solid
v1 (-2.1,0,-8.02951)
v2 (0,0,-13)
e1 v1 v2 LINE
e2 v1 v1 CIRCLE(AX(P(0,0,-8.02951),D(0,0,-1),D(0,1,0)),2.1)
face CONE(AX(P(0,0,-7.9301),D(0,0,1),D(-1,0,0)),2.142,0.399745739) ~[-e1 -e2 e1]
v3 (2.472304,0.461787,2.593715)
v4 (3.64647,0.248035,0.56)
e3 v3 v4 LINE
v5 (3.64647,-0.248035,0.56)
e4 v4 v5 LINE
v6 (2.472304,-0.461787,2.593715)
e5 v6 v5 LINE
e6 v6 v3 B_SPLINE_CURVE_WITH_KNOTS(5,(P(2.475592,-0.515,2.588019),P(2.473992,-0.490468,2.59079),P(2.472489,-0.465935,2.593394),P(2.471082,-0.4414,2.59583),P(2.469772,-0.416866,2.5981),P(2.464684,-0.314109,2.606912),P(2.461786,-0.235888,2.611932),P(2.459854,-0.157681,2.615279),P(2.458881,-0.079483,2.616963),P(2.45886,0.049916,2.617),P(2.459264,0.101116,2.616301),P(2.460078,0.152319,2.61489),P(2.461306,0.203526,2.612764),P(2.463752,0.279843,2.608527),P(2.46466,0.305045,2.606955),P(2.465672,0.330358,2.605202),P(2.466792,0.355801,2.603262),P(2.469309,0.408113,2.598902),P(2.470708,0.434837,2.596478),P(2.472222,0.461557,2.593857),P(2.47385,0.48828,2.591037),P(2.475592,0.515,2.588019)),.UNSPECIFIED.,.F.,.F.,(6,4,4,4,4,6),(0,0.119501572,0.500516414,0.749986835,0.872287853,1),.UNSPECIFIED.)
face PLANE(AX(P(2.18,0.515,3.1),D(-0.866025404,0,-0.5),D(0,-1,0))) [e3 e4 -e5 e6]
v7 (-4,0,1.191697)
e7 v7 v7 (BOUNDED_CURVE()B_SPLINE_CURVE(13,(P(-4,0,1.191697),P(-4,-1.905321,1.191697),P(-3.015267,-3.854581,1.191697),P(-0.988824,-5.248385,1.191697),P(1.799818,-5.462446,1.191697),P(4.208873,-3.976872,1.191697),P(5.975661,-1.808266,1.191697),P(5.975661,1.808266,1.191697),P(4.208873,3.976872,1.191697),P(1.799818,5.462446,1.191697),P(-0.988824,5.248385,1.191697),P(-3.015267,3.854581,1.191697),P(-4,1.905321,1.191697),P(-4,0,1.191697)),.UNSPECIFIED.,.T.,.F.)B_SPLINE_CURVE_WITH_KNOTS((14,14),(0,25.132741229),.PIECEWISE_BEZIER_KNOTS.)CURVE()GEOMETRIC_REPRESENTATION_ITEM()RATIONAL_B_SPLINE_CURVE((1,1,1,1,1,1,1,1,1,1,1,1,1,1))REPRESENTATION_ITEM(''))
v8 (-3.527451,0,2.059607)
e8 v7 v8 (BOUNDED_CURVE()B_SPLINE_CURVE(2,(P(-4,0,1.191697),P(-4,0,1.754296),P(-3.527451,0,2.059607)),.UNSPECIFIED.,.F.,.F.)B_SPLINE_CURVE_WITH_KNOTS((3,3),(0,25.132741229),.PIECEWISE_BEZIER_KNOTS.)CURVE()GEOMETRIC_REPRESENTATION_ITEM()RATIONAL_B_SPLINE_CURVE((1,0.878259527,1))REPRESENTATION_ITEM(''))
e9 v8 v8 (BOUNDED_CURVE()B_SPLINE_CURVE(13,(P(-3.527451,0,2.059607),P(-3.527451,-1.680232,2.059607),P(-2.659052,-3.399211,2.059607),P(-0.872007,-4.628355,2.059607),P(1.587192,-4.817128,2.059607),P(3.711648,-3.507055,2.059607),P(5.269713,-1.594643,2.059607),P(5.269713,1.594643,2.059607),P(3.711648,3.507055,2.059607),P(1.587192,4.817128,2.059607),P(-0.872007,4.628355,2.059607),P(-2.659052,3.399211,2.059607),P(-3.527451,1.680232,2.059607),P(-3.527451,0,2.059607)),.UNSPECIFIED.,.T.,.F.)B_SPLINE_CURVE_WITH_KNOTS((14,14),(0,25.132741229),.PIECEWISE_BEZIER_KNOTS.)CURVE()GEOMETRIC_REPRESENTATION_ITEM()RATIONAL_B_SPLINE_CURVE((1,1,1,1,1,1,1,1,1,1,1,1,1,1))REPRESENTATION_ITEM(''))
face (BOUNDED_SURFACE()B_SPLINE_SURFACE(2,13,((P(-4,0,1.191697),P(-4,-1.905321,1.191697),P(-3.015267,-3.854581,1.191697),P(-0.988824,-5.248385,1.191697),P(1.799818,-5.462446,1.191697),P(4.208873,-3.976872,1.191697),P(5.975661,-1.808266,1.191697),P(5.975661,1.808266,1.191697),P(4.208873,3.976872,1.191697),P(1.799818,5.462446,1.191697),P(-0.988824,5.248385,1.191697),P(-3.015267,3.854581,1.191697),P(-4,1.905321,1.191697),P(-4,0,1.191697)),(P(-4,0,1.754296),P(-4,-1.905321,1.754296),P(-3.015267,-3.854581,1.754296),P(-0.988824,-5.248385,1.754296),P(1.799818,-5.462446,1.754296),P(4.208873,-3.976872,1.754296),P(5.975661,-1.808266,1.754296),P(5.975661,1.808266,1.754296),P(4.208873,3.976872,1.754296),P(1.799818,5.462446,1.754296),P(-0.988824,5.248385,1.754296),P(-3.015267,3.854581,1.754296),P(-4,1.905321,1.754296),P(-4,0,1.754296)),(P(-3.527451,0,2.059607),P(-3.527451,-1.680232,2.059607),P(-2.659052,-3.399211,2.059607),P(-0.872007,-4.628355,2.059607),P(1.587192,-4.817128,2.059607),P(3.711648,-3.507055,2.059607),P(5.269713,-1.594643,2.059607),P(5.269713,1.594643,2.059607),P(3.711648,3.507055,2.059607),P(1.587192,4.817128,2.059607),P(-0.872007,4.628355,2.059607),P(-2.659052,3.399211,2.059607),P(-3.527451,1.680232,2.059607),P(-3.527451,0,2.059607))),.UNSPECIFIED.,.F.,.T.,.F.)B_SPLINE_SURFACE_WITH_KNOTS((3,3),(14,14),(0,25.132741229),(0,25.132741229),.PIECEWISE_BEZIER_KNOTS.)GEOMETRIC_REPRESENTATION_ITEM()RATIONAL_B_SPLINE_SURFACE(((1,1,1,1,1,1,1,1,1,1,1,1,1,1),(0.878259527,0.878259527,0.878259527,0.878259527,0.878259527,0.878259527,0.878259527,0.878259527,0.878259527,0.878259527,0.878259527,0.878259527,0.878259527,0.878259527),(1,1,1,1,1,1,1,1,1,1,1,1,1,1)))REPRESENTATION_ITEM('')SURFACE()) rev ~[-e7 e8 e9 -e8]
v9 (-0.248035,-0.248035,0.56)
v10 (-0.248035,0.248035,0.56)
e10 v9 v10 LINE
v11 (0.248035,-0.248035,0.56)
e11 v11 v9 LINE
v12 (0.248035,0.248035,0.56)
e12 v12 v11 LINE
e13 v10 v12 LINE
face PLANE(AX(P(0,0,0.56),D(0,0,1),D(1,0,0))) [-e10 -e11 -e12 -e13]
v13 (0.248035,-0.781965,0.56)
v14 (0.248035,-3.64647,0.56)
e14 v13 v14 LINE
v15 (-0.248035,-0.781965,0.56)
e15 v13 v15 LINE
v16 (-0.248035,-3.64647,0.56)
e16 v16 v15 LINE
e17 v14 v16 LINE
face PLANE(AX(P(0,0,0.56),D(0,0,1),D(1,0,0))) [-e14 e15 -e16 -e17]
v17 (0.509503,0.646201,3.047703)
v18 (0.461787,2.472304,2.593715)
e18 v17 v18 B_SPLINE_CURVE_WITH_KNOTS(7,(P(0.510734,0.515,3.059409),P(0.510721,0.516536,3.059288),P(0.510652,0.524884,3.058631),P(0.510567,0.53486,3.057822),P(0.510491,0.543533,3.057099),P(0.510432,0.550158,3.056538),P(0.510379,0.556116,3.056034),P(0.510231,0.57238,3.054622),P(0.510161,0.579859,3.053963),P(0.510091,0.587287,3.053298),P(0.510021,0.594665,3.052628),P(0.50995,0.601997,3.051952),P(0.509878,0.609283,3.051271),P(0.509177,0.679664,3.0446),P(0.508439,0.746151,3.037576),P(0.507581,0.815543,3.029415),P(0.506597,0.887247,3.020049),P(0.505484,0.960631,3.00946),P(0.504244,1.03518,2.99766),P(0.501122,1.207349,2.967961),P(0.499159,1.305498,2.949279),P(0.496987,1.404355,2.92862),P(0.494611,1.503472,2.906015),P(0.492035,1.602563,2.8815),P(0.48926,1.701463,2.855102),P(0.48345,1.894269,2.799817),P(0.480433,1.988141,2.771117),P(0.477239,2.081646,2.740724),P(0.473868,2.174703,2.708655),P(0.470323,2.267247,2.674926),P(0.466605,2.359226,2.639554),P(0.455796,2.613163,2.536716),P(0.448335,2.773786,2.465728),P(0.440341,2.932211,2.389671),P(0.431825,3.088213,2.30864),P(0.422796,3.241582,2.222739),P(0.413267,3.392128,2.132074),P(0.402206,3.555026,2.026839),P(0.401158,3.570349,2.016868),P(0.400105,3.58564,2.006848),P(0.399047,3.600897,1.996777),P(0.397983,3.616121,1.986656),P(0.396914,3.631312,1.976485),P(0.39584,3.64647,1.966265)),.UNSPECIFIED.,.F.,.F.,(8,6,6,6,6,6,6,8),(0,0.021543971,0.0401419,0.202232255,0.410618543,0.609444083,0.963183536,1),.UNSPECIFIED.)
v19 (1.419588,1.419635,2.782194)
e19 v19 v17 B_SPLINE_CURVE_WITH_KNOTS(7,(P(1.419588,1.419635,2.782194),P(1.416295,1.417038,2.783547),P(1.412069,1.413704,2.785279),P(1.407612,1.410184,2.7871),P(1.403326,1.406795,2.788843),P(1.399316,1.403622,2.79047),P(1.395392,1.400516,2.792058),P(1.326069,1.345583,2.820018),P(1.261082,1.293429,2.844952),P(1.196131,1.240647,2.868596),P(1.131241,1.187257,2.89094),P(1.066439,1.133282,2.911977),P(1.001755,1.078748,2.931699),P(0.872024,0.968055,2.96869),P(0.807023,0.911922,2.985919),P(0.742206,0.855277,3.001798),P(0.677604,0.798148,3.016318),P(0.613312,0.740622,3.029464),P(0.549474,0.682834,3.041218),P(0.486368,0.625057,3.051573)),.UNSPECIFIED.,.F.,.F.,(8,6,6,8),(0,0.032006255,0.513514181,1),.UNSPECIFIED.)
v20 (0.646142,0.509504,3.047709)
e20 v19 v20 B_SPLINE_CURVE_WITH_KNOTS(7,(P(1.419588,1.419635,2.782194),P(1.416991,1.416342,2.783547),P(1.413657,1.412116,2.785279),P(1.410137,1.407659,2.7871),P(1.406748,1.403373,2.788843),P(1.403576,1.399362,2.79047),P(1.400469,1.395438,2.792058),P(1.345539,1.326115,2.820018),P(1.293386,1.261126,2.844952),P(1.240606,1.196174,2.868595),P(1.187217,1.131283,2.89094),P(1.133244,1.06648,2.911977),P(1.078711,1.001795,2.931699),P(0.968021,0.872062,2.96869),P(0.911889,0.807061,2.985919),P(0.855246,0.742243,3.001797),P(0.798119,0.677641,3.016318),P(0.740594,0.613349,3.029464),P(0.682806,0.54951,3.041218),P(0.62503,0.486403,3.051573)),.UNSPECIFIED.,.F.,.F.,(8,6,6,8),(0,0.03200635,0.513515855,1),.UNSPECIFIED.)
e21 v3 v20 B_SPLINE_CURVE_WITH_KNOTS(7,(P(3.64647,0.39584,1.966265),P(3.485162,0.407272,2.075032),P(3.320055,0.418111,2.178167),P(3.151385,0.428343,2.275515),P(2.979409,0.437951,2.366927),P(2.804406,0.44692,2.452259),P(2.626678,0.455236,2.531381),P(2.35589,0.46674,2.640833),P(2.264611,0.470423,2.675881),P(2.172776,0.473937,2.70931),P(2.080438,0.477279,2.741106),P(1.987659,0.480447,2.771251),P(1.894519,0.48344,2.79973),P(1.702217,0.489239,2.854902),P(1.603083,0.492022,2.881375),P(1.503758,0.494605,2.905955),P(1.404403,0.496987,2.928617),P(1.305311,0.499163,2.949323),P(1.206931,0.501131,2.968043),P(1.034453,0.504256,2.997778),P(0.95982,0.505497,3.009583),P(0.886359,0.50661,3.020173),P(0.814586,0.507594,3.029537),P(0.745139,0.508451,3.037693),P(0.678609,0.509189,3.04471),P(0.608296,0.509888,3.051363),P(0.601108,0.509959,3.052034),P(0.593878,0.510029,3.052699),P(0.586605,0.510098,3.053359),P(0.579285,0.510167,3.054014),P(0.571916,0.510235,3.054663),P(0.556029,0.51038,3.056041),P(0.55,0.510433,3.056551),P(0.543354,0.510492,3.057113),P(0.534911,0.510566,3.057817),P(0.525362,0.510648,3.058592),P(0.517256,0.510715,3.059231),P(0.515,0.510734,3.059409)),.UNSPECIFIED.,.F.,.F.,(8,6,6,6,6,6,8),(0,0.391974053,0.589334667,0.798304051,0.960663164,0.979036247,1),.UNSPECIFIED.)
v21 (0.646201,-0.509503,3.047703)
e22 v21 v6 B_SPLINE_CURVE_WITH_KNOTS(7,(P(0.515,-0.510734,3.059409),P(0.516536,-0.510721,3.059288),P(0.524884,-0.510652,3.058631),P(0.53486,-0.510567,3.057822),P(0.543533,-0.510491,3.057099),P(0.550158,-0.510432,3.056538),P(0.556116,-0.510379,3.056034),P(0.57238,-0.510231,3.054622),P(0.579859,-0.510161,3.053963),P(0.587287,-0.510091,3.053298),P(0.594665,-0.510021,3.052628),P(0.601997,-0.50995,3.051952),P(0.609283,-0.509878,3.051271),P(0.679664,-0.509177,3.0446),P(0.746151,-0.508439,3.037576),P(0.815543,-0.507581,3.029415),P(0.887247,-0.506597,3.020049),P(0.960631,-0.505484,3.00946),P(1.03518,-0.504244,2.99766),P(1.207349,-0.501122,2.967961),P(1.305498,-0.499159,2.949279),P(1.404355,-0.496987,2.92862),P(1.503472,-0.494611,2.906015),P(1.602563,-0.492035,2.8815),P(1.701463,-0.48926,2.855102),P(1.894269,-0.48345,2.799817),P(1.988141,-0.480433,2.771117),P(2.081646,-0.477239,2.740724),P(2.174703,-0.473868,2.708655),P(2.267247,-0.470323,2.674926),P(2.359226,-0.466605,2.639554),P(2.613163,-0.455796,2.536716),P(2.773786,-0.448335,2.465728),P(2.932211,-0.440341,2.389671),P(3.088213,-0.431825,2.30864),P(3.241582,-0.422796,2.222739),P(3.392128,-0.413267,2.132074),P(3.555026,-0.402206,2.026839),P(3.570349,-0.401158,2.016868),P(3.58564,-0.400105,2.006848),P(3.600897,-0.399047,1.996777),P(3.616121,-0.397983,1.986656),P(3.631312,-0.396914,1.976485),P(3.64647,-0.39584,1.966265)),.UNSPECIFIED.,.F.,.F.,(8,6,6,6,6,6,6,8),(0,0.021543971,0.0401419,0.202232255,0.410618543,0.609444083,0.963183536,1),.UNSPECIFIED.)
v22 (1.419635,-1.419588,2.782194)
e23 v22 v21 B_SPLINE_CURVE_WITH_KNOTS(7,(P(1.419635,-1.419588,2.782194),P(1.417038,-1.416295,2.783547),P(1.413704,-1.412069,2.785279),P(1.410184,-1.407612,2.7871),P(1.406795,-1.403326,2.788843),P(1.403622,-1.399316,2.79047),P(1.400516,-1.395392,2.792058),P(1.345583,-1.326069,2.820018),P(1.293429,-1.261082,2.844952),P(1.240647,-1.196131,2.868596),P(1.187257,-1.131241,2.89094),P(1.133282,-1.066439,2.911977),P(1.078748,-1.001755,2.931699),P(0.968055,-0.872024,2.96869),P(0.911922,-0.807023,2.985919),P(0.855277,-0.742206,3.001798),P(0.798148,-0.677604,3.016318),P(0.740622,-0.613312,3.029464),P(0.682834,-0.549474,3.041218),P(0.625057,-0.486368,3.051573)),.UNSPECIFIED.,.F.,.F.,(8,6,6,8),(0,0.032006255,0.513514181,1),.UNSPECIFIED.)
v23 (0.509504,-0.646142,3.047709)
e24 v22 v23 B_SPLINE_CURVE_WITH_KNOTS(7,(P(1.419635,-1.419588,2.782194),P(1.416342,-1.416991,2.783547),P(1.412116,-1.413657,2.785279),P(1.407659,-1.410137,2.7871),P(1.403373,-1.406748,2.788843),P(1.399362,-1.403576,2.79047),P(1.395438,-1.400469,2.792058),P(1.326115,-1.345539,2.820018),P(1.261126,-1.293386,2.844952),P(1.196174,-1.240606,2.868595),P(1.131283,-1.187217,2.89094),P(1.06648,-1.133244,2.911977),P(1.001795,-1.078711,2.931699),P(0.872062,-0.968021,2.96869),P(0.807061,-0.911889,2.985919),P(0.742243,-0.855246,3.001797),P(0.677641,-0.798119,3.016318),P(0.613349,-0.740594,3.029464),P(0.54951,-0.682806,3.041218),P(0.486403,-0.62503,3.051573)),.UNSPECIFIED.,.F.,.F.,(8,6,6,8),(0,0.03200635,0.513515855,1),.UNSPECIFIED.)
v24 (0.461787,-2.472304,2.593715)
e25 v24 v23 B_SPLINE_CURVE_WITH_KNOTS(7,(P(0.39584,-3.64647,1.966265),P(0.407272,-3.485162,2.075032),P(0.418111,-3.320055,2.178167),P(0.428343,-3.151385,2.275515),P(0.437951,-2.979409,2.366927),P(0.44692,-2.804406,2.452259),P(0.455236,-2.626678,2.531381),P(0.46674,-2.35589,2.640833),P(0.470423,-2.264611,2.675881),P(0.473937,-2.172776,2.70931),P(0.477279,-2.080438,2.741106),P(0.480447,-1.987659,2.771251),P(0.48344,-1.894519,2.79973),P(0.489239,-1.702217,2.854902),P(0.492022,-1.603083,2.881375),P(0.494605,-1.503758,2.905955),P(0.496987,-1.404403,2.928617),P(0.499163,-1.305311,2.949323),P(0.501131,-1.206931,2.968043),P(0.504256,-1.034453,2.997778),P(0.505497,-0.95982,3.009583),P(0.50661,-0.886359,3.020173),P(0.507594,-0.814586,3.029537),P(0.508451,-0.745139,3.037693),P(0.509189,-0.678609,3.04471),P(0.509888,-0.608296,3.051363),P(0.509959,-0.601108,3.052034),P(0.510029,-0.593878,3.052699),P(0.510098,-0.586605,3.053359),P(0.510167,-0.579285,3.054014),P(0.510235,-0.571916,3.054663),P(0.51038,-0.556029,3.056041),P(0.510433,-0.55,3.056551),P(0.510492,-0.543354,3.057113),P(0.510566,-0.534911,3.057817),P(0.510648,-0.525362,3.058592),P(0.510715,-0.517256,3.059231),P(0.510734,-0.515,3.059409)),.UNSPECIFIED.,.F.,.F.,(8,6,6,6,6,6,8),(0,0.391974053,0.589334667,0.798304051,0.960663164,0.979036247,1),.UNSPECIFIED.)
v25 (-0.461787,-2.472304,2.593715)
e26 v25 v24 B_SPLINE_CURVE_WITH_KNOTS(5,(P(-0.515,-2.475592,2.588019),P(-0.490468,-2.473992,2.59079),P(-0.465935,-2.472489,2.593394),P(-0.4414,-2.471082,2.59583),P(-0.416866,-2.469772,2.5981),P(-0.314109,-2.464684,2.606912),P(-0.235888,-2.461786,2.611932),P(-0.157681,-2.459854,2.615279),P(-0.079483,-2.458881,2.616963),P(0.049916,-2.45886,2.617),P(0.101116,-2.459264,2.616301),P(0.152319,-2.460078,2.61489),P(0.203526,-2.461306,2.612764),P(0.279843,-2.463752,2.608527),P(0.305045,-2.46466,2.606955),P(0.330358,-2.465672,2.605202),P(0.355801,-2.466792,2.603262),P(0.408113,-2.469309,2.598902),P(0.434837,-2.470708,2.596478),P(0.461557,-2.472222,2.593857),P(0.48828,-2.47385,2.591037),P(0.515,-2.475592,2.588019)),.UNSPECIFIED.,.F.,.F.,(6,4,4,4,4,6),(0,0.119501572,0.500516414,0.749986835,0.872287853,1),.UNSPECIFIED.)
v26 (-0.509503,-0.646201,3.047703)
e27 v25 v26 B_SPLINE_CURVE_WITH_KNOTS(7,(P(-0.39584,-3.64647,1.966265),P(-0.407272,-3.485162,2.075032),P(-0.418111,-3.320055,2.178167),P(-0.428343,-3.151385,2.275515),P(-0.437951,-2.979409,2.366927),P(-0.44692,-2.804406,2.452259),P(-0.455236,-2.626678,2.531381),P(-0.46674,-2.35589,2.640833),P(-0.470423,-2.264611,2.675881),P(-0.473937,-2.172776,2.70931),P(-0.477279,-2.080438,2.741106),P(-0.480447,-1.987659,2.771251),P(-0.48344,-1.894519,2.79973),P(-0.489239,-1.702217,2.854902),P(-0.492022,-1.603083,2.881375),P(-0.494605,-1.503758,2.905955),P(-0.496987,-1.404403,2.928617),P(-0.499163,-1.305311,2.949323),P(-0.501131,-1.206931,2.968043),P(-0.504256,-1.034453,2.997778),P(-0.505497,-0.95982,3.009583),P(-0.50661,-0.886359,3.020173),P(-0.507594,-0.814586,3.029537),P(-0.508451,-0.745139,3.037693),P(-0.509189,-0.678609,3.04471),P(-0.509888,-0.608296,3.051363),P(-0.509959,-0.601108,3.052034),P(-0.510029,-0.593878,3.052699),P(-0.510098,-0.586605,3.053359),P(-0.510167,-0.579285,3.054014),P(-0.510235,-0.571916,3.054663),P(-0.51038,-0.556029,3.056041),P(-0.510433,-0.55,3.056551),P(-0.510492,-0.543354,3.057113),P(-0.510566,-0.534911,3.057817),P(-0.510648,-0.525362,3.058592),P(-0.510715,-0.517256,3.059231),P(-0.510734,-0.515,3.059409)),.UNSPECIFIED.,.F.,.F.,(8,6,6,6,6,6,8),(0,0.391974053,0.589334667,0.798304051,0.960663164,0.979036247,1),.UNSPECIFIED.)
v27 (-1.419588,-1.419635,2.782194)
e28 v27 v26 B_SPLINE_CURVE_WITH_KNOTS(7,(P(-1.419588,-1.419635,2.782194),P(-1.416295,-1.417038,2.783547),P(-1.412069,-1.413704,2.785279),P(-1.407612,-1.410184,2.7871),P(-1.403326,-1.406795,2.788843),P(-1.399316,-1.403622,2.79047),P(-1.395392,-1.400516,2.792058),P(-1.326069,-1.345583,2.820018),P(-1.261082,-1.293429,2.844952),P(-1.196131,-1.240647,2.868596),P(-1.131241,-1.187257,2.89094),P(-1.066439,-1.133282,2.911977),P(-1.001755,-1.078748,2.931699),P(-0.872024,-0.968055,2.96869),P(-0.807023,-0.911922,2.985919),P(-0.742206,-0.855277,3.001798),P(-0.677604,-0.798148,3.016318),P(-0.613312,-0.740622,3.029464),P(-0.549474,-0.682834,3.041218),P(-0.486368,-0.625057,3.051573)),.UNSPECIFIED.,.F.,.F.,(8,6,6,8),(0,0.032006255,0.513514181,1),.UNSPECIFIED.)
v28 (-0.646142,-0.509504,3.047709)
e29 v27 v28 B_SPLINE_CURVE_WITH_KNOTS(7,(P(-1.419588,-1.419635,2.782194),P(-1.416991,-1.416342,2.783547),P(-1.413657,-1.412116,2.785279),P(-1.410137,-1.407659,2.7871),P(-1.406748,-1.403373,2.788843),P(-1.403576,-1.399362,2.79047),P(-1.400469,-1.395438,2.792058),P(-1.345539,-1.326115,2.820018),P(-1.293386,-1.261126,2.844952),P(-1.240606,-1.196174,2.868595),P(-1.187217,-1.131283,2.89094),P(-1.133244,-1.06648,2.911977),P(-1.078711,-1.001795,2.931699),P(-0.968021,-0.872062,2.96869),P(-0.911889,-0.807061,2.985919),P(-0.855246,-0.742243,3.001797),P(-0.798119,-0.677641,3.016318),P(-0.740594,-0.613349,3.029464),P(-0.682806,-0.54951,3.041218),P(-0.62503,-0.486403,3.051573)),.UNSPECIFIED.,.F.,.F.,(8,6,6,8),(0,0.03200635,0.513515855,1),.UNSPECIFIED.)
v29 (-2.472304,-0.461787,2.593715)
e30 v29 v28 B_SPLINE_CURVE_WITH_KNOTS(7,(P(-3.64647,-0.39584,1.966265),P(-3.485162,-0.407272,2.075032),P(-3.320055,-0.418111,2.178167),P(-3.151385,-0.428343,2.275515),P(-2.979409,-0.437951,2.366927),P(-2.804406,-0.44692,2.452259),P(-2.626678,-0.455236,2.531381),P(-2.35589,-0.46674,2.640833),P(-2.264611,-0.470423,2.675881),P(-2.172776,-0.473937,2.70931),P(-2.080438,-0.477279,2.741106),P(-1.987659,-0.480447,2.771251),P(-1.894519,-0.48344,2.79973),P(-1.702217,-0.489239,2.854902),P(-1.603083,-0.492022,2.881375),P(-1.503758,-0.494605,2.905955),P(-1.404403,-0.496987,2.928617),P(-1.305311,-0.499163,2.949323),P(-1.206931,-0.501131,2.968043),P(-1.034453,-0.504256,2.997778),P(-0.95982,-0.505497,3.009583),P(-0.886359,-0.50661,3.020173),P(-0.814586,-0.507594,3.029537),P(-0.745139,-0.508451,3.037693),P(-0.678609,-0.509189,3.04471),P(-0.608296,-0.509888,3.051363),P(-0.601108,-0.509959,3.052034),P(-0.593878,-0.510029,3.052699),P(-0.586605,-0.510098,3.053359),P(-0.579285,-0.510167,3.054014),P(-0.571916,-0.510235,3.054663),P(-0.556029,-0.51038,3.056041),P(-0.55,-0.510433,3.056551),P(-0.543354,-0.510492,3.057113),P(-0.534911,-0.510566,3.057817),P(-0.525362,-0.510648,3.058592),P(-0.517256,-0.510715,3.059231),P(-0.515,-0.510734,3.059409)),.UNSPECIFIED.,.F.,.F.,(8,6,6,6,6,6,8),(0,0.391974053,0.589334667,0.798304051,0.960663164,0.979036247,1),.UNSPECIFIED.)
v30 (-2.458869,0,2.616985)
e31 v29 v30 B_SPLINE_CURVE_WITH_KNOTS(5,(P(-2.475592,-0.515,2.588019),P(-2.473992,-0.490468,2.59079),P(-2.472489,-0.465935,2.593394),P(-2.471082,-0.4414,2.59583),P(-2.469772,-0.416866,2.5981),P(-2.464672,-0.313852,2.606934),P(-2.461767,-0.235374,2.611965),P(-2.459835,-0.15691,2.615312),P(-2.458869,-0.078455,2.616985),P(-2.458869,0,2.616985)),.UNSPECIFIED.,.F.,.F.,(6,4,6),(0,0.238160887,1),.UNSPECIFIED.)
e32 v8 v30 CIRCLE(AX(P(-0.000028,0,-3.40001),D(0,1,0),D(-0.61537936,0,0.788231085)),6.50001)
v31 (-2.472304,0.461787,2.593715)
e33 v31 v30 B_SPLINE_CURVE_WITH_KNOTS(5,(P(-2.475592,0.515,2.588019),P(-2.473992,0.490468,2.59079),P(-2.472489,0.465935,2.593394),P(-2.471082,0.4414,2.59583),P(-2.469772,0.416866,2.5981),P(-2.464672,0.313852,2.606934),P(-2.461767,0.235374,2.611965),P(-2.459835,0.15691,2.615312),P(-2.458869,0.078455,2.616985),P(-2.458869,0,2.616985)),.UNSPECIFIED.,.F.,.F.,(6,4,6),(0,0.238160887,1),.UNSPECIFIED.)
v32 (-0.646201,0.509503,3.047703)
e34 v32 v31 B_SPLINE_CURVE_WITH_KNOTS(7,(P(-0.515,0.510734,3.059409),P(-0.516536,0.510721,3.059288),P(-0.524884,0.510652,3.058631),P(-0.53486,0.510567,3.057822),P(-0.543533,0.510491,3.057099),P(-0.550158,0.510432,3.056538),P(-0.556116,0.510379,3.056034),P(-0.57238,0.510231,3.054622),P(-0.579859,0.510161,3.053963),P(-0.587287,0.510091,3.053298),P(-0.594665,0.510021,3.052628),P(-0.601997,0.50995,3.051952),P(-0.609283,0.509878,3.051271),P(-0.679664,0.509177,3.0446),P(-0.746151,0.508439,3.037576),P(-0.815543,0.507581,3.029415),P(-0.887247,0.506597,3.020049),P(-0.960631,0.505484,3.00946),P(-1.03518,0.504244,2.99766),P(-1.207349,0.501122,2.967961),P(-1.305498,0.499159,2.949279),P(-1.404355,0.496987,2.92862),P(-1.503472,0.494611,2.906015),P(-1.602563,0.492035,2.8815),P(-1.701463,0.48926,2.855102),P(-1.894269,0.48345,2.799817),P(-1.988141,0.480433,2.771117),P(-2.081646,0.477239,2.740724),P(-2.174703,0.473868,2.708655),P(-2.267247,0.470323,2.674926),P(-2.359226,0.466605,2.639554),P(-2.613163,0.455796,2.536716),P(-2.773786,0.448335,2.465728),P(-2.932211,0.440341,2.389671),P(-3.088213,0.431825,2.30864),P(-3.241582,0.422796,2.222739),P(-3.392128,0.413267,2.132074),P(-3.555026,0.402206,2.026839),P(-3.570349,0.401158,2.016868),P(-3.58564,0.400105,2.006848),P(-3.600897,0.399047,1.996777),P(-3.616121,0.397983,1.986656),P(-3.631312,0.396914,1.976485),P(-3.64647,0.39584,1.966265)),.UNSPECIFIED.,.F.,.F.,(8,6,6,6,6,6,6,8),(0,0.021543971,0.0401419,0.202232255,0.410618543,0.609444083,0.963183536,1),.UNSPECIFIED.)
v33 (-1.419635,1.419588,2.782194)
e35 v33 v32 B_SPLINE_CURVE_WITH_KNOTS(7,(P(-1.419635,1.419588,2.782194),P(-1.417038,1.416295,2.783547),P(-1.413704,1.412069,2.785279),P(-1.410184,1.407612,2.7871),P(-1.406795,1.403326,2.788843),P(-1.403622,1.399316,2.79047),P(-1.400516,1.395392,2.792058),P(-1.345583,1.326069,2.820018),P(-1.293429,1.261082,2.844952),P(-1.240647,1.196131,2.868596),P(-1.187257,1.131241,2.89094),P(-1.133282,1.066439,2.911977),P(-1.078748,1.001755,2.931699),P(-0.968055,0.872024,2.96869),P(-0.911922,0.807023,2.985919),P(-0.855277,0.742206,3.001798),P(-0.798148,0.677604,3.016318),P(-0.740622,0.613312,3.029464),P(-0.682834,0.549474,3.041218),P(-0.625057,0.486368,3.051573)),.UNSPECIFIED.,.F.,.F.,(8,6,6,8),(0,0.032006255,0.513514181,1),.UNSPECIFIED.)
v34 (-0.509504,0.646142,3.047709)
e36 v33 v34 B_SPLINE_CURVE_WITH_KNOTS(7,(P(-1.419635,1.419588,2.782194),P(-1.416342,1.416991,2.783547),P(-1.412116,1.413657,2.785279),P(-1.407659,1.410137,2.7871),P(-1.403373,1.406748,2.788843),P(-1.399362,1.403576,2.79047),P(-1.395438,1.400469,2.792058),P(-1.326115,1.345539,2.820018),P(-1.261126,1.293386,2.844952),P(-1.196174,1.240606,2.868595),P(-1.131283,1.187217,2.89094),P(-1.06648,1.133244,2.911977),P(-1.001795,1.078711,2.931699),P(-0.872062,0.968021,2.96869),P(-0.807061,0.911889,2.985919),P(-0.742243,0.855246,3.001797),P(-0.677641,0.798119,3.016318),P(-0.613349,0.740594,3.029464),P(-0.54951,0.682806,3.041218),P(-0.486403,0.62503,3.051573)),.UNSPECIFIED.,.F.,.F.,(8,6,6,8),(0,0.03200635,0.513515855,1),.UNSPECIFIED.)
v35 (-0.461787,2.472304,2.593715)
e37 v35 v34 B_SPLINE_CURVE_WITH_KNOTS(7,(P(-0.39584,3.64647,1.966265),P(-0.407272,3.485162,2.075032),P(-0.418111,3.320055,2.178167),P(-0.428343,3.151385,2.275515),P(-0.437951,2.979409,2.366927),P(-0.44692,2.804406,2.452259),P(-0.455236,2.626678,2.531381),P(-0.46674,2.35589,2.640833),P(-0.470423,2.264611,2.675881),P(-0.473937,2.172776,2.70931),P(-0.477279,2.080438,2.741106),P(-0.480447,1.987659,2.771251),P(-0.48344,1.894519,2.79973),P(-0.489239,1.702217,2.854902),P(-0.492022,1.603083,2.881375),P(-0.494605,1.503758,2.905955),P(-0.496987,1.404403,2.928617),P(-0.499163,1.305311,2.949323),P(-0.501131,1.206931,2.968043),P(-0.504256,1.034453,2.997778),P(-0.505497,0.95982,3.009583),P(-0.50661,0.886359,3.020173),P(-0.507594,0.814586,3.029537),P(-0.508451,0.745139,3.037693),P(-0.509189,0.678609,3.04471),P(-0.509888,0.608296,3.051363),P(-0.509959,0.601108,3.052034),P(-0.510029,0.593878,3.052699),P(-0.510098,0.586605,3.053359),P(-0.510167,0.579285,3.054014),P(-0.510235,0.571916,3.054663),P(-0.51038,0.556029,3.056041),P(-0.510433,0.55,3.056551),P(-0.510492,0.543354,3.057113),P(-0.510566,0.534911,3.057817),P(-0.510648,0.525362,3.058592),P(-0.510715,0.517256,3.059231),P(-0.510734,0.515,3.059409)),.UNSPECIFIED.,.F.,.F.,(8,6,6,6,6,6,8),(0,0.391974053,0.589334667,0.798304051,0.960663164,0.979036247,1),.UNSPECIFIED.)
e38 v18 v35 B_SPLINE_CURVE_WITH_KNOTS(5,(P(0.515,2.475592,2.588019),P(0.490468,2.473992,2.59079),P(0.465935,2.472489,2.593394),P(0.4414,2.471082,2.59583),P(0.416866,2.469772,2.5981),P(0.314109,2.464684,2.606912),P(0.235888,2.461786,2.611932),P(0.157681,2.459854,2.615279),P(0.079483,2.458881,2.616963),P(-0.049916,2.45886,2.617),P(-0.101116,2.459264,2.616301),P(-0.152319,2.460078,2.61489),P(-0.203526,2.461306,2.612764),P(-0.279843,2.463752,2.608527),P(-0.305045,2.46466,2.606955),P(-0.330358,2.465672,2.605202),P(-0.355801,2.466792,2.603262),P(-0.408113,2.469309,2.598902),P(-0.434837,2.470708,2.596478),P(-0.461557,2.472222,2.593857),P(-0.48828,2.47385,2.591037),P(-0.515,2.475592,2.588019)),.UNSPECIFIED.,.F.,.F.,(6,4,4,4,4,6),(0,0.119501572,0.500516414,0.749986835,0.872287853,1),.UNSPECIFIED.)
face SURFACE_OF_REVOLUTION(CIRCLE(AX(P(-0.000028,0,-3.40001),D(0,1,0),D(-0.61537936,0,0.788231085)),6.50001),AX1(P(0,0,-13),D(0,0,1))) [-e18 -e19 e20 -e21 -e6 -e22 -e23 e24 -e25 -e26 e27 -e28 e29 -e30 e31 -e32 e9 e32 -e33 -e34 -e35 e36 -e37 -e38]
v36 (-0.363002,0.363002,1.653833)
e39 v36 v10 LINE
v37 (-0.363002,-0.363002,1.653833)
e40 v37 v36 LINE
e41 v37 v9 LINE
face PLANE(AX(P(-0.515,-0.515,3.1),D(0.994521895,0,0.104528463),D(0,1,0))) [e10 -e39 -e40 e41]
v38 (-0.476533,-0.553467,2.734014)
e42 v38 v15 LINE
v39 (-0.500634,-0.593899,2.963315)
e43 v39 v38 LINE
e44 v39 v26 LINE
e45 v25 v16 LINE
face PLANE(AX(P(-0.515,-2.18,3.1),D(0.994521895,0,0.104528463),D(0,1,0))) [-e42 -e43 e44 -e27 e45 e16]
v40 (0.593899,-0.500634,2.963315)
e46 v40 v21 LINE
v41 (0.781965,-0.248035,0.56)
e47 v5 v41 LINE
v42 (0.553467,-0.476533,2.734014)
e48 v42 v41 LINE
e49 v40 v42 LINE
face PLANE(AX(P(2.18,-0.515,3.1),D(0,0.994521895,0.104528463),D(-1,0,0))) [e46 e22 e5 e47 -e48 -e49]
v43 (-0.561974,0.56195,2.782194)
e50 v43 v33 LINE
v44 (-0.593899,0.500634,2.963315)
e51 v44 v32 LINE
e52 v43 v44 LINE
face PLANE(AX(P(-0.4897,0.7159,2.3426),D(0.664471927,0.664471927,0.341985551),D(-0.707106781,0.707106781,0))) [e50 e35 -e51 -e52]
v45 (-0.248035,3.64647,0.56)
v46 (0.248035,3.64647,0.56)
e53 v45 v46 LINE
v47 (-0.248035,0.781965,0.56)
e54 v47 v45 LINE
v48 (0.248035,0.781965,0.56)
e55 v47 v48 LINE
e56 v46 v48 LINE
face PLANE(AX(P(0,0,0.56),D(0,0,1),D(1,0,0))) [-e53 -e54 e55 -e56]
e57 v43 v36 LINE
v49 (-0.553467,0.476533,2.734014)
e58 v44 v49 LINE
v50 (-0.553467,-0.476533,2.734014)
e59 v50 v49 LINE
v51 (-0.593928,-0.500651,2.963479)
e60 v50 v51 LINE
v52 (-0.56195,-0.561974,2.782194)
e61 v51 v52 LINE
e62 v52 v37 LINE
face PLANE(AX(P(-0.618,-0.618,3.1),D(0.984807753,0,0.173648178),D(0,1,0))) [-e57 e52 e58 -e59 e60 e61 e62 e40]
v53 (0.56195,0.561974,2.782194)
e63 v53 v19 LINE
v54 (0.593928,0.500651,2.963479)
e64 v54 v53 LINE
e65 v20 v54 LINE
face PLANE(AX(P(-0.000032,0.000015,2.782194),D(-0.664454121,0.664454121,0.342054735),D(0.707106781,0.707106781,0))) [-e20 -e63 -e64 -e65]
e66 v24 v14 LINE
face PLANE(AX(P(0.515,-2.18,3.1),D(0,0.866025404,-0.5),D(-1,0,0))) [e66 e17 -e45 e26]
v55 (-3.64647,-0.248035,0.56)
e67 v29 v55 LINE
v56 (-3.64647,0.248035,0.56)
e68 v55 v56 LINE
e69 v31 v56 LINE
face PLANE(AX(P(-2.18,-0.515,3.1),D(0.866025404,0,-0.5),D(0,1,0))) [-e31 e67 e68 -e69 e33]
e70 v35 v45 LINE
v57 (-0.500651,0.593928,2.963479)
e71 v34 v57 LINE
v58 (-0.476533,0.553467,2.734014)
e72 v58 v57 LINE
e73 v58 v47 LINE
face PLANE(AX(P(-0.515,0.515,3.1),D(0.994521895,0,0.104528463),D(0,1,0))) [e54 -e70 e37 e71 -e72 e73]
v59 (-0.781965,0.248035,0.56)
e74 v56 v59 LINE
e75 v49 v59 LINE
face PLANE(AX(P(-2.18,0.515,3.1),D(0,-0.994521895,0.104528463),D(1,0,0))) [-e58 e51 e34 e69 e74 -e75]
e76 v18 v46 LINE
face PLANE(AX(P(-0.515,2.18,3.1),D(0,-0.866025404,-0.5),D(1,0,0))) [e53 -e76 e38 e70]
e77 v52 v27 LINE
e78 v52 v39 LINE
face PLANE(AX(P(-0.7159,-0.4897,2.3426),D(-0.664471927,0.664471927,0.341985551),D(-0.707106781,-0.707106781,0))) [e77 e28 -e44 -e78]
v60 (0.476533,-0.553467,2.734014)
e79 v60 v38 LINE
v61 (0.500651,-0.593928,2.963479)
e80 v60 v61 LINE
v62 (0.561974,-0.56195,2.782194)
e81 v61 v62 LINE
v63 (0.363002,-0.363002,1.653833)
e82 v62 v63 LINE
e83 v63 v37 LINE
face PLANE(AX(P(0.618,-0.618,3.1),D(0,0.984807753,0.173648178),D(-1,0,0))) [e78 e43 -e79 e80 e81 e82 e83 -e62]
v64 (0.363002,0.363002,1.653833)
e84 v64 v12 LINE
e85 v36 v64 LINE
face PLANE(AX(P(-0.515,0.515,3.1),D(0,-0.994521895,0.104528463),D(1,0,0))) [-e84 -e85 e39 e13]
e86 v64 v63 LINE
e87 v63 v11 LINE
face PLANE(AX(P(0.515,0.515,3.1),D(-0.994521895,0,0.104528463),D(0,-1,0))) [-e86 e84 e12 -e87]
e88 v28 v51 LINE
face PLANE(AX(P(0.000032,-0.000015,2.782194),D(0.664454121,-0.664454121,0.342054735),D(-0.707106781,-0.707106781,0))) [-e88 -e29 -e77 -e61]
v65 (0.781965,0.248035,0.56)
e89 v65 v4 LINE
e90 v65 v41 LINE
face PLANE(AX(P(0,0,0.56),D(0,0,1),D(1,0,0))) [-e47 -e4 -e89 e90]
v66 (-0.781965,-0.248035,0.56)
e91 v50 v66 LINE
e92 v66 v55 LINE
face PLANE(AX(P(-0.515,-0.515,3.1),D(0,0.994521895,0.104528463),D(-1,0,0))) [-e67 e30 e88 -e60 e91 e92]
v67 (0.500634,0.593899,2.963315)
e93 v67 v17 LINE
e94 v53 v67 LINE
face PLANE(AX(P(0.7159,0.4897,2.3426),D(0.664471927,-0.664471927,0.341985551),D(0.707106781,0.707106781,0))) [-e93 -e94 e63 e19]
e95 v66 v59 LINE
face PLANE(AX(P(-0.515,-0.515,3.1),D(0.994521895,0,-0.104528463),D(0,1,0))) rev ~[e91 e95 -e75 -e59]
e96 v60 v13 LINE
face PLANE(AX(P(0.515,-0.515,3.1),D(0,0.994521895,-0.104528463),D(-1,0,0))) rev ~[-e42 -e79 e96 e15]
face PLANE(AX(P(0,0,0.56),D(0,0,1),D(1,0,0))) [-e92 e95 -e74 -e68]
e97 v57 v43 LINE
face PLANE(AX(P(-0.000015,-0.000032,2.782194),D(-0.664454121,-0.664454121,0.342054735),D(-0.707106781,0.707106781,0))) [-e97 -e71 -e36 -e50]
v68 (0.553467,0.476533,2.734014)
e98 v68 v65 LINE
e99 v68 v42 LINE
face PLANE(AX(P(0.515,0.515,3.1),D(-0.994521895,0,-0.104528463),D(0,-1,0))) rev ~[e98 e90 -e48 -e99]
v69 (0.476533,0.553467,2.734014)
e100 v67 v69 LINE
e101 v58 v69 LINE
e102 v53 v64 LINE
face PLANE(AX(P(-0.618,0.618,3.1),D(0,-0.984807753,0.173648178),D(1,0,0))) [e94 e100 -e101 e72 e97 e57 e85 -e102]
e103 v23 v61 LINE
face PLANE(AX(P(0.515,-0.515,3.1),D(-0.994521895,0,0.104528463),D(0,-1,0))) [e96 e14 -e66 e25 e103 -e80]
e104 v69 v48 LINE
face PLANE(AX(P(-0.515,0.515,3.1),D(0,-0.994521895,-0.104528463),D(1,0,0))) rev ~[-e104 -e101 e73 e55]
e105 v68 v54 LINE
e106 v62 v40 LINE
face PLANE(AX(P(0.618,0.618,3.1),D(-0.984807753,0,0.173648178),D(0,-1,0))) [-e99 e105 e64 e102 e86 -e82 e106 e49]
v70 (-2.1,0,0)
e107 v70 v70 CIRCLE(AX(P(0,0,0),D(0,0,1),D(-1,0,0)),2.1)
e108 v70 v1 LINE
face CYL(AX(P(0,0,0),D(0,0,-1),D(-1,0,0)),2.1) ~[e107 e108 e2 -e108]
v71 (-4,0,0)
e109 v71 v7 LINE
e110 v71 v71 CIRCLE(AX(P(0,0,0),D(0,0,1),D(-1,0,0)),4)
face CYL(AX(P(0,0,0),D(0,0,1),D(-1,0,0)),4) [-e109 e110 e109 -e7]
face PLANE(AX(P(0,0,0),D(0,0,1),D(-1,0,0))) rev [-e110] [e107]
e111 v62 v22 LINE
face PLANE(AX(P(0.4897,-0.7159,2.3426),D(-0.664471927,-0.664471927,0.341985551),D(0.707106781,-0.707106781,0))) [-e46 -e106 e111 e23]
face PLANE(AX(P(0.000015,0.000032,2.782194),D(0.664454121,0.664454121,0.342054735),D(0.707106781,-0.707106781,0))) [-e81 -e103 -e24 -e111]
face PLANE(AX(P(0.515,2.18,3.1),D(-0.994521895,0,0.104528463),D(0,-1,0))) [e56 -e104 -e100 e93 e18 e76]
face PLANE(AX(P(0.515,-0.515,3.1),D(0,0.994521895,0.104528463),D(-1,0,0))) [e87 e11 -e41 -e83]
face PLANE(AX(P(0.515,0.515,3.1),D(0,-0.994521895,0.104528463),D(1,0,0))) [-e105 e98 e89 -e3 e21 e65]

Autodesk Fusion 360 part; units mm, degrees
sketch "Sketch1" plane through (0, 0, 0) normal (0, 1, 0) x (1, 0, 0)
  line L0 (-2.1, 0) -> (-2.1, 13)
  line L1 (-2.1, 13) -> (0, 13)
  line L2 (0, 13) -> (0, -3.1)
  line L3 (-2.1, 0) -> (-4, 0)
  line L4 (-4, 0) -> (-4, -1.7235)
  arc A0 (-4, -1.7235) -> (0, -3.1) centre (0, 3.4) ccw
  dimension "d9" = 4.2
  dimension "d74" = 13
  dimension "d75" = 8
  dimension "d78" = 3.1
  dimension "d118" = 6.5
revolve "Revolve1" add sketch "Sketch1" angle 360 about axis through (0, 0, -13) along (0, 0, 1) makes body 1
ref_plane "WorkPlane1" through (0, 0, 3.1) normal (0, 0, 1) x (1, 0, 0)
sketch "Sketch7" plane through (0, 0, 3.1) normal (0, 0, 1) x (1, 0, 0)
  line L0 (-0.618, 0.618) -> (0.618, 0.618)
  line L1 (0.618, 0.618) -> (0.618, -0.618)
  line L2 (0.618, -0.618) -> (-0.618, -0.618)
  line L3 (-0.618, -0.618) -> (-0.618, 0.618)
  point P0 (-0.618, 0)
  point P1 (0, 0.618)
  dimension "d65" = 1.236
  dimension "d119" = 1.236
extrude "Extrude4" add sketch "Sketch7" against normal blind 2.032 draft -10 separate body makes body 2
sketch "Sketch10" plane through (0, 0, 3.1) normal (0, 0, 1) x (1, 0, 0)
  line L0 (-2.18, 0) -> (2.18, 0) construction
  line L1 (-2.18, 0.515) -> (2.18, 0.515)
  line L2 (2.18, 0.515) -> (2.18, -0.515)
  line L3 (2.18, -0.515) -> (-2.18, -0.515)
  line L4 (-2.18, -0.515) -> (-2.18, 0.515)
  line L5 (0.515, -2.18) -> (-0.515, -2.18)
  line L6 (-0.515, -2.18) -> (-0.515, 2.18)
  line L7 (0.515, 2.18) -> (0.515, -2.18)
  line L8 (-0.515, 2.18) -> (0.515, 2.18)
  dimension "d90" = 4.36
  dimension "d91" = 1.03
  dimension "d114" = 90
extrude "Extrude1" add sketch "Sketch10" against normal blind 2.54 draft -6 separate body makes body 3 at (-0.426, -1.536, 2.2533)
draft "Draft2" angle 30 neutral plane through (0, 0, 3.1) pull (0, 0, 1) 4 faces at (0.0827, 2.091, 2.2533) (2.091, -0.0827, 2.2533) (-2.091, 0.0827, 2.2533) (-0.0827, -2.091, 2.2533) on bodies 3
combine "Combine1" operation cut target body 1 tool bodies 2 3
ref_plane "WorkPlane2" through (-0.4816, 1.9491, 2.7822) normal (0, 0, -1) x (-1, 0, 0)
sketch "Sketch8" plane through (-0.2873, 1.3933, 2.7822) normal (0, 0, -1) x (1, 0, 0)
  line L0 (0.2873, 1.3933) -> (1.983, 3.089)
  line L1 (2.0373, 1.3933) -> (22.7873, 1.3933)
  point P0 (0.2873, 1.3933)
  dimension "d83" = 2.398
  dimension "d112" = 45
ref_plane "WorkPlane3" through (0.8478, -0.8478, 2.7822) normal (-0.6645, -0.6645, 0.342) x (0.7071, -0.7071, 0)
sketch "Sketch9" plane through (0.4897, -0.7159, 2.3426) normal (-0.6645, -0.6645, 0.342) x (0.7071, -0.7071, 0)
  line L0 (-0.8525, 0.4678) -> (1.5455, 0.4678)
  line L1 (1.5455, 0.4678) -> (1.5455, 2.5278)
  line L2 (1.5455, 2.5278) -> (-0.8525, 2.5278)
  line L3 (-0.8525, 2.5278) -> (-0.8525, 0.4678)
  point P0 (-0.8525, 0.4678)
  point P1 (1.5455, 0.4678)
  dimension "d85" = 2.06
extrude "Extrude6" cut sketch "Sketch9" along normal blind 0.515 draft -50 bodies 1
pattern_circular "C-Pattern1" count 4 over 360 about axis through (0, 0, 1.75) along (0, 0, 1) of "Extrude6"
fillet "Fillet4" radius 1.0333 1 edges at (-3.7293, 1.4465, 1.7235) on bodies 1
thread "Thread2" thread offset 0 thread length 11.6
sketch "Sketch5" plane through (0, 0, 0) normal (0, 1, 0) x (1, 0, 0)
  line L0 (0, 13) -> (0, -3.1)
  line L1 (0, 13) -> (-2.142, 13)
  line L2 (-2.142, 13) -> (-2.142, 7.9301)
  line L3 (-2.142, 7.9301) -> (0, 13)
  dimension "d109" = 5.0699
  dimension "d111" = 2.142
revolve "Revolve2" cut sketch "Sketch5" angle 360 about axis through (0, 0, 1.75) along (0, 0, 1) bodies 1
equation "d9 = adsk_nomdia"
equation "adsk_nomlen = 13.00 mm"
equation "adsk_headh = 3.10 mm"
equation "adsk_headdia = 8.00 mm"
equation "adsk_nomdia = 4.20 mm"
equation "adsk_phildia = 4.36 mm"
equation "adsk_philwidth = 1.03 mm"
equation "adsk_phildepth = 2.54 mm"
equation "d65 = adsk_philwidth * 1.2"
equation "d68 = -adsk_phildepth * 0.8"
equation "d74 = adsk_nomlen"
equation "d75 = adsk_headdia"
equation "d78 = adsk_headh"
equation "d79 = adsk_headh"
equation "d83 = adsk_phildia / 2 * 1.1"
equation "d85 = adsk_philwidth * 2"
equation "d86 = adsk_philwidth / 2"
equation "d90 = adsk_phildia"
equation "d91 = adsk_philwidth"
equation "adsk_startlen = 5.069855 mm"
equation "adsk_thrlen = 11.60 mm"
equation "d102 = adsk_headh / 3"
equation "d104 = adsk_thrlen"
equation "d109 = adsk_startlen"
equation "d111 = adsk_nomdia * 0.51"
equation "adsk_ovalrad = 6.50 mm"
equation "d118 = adsk_ovalrad"
equation "d119 = adsk_philwidth * 1.2"
properties part number "CRPHTS ANSI B18.6.5M - 4.2 x 1.4 x 13  - AB - IA Steel Grade 2 Plain"
